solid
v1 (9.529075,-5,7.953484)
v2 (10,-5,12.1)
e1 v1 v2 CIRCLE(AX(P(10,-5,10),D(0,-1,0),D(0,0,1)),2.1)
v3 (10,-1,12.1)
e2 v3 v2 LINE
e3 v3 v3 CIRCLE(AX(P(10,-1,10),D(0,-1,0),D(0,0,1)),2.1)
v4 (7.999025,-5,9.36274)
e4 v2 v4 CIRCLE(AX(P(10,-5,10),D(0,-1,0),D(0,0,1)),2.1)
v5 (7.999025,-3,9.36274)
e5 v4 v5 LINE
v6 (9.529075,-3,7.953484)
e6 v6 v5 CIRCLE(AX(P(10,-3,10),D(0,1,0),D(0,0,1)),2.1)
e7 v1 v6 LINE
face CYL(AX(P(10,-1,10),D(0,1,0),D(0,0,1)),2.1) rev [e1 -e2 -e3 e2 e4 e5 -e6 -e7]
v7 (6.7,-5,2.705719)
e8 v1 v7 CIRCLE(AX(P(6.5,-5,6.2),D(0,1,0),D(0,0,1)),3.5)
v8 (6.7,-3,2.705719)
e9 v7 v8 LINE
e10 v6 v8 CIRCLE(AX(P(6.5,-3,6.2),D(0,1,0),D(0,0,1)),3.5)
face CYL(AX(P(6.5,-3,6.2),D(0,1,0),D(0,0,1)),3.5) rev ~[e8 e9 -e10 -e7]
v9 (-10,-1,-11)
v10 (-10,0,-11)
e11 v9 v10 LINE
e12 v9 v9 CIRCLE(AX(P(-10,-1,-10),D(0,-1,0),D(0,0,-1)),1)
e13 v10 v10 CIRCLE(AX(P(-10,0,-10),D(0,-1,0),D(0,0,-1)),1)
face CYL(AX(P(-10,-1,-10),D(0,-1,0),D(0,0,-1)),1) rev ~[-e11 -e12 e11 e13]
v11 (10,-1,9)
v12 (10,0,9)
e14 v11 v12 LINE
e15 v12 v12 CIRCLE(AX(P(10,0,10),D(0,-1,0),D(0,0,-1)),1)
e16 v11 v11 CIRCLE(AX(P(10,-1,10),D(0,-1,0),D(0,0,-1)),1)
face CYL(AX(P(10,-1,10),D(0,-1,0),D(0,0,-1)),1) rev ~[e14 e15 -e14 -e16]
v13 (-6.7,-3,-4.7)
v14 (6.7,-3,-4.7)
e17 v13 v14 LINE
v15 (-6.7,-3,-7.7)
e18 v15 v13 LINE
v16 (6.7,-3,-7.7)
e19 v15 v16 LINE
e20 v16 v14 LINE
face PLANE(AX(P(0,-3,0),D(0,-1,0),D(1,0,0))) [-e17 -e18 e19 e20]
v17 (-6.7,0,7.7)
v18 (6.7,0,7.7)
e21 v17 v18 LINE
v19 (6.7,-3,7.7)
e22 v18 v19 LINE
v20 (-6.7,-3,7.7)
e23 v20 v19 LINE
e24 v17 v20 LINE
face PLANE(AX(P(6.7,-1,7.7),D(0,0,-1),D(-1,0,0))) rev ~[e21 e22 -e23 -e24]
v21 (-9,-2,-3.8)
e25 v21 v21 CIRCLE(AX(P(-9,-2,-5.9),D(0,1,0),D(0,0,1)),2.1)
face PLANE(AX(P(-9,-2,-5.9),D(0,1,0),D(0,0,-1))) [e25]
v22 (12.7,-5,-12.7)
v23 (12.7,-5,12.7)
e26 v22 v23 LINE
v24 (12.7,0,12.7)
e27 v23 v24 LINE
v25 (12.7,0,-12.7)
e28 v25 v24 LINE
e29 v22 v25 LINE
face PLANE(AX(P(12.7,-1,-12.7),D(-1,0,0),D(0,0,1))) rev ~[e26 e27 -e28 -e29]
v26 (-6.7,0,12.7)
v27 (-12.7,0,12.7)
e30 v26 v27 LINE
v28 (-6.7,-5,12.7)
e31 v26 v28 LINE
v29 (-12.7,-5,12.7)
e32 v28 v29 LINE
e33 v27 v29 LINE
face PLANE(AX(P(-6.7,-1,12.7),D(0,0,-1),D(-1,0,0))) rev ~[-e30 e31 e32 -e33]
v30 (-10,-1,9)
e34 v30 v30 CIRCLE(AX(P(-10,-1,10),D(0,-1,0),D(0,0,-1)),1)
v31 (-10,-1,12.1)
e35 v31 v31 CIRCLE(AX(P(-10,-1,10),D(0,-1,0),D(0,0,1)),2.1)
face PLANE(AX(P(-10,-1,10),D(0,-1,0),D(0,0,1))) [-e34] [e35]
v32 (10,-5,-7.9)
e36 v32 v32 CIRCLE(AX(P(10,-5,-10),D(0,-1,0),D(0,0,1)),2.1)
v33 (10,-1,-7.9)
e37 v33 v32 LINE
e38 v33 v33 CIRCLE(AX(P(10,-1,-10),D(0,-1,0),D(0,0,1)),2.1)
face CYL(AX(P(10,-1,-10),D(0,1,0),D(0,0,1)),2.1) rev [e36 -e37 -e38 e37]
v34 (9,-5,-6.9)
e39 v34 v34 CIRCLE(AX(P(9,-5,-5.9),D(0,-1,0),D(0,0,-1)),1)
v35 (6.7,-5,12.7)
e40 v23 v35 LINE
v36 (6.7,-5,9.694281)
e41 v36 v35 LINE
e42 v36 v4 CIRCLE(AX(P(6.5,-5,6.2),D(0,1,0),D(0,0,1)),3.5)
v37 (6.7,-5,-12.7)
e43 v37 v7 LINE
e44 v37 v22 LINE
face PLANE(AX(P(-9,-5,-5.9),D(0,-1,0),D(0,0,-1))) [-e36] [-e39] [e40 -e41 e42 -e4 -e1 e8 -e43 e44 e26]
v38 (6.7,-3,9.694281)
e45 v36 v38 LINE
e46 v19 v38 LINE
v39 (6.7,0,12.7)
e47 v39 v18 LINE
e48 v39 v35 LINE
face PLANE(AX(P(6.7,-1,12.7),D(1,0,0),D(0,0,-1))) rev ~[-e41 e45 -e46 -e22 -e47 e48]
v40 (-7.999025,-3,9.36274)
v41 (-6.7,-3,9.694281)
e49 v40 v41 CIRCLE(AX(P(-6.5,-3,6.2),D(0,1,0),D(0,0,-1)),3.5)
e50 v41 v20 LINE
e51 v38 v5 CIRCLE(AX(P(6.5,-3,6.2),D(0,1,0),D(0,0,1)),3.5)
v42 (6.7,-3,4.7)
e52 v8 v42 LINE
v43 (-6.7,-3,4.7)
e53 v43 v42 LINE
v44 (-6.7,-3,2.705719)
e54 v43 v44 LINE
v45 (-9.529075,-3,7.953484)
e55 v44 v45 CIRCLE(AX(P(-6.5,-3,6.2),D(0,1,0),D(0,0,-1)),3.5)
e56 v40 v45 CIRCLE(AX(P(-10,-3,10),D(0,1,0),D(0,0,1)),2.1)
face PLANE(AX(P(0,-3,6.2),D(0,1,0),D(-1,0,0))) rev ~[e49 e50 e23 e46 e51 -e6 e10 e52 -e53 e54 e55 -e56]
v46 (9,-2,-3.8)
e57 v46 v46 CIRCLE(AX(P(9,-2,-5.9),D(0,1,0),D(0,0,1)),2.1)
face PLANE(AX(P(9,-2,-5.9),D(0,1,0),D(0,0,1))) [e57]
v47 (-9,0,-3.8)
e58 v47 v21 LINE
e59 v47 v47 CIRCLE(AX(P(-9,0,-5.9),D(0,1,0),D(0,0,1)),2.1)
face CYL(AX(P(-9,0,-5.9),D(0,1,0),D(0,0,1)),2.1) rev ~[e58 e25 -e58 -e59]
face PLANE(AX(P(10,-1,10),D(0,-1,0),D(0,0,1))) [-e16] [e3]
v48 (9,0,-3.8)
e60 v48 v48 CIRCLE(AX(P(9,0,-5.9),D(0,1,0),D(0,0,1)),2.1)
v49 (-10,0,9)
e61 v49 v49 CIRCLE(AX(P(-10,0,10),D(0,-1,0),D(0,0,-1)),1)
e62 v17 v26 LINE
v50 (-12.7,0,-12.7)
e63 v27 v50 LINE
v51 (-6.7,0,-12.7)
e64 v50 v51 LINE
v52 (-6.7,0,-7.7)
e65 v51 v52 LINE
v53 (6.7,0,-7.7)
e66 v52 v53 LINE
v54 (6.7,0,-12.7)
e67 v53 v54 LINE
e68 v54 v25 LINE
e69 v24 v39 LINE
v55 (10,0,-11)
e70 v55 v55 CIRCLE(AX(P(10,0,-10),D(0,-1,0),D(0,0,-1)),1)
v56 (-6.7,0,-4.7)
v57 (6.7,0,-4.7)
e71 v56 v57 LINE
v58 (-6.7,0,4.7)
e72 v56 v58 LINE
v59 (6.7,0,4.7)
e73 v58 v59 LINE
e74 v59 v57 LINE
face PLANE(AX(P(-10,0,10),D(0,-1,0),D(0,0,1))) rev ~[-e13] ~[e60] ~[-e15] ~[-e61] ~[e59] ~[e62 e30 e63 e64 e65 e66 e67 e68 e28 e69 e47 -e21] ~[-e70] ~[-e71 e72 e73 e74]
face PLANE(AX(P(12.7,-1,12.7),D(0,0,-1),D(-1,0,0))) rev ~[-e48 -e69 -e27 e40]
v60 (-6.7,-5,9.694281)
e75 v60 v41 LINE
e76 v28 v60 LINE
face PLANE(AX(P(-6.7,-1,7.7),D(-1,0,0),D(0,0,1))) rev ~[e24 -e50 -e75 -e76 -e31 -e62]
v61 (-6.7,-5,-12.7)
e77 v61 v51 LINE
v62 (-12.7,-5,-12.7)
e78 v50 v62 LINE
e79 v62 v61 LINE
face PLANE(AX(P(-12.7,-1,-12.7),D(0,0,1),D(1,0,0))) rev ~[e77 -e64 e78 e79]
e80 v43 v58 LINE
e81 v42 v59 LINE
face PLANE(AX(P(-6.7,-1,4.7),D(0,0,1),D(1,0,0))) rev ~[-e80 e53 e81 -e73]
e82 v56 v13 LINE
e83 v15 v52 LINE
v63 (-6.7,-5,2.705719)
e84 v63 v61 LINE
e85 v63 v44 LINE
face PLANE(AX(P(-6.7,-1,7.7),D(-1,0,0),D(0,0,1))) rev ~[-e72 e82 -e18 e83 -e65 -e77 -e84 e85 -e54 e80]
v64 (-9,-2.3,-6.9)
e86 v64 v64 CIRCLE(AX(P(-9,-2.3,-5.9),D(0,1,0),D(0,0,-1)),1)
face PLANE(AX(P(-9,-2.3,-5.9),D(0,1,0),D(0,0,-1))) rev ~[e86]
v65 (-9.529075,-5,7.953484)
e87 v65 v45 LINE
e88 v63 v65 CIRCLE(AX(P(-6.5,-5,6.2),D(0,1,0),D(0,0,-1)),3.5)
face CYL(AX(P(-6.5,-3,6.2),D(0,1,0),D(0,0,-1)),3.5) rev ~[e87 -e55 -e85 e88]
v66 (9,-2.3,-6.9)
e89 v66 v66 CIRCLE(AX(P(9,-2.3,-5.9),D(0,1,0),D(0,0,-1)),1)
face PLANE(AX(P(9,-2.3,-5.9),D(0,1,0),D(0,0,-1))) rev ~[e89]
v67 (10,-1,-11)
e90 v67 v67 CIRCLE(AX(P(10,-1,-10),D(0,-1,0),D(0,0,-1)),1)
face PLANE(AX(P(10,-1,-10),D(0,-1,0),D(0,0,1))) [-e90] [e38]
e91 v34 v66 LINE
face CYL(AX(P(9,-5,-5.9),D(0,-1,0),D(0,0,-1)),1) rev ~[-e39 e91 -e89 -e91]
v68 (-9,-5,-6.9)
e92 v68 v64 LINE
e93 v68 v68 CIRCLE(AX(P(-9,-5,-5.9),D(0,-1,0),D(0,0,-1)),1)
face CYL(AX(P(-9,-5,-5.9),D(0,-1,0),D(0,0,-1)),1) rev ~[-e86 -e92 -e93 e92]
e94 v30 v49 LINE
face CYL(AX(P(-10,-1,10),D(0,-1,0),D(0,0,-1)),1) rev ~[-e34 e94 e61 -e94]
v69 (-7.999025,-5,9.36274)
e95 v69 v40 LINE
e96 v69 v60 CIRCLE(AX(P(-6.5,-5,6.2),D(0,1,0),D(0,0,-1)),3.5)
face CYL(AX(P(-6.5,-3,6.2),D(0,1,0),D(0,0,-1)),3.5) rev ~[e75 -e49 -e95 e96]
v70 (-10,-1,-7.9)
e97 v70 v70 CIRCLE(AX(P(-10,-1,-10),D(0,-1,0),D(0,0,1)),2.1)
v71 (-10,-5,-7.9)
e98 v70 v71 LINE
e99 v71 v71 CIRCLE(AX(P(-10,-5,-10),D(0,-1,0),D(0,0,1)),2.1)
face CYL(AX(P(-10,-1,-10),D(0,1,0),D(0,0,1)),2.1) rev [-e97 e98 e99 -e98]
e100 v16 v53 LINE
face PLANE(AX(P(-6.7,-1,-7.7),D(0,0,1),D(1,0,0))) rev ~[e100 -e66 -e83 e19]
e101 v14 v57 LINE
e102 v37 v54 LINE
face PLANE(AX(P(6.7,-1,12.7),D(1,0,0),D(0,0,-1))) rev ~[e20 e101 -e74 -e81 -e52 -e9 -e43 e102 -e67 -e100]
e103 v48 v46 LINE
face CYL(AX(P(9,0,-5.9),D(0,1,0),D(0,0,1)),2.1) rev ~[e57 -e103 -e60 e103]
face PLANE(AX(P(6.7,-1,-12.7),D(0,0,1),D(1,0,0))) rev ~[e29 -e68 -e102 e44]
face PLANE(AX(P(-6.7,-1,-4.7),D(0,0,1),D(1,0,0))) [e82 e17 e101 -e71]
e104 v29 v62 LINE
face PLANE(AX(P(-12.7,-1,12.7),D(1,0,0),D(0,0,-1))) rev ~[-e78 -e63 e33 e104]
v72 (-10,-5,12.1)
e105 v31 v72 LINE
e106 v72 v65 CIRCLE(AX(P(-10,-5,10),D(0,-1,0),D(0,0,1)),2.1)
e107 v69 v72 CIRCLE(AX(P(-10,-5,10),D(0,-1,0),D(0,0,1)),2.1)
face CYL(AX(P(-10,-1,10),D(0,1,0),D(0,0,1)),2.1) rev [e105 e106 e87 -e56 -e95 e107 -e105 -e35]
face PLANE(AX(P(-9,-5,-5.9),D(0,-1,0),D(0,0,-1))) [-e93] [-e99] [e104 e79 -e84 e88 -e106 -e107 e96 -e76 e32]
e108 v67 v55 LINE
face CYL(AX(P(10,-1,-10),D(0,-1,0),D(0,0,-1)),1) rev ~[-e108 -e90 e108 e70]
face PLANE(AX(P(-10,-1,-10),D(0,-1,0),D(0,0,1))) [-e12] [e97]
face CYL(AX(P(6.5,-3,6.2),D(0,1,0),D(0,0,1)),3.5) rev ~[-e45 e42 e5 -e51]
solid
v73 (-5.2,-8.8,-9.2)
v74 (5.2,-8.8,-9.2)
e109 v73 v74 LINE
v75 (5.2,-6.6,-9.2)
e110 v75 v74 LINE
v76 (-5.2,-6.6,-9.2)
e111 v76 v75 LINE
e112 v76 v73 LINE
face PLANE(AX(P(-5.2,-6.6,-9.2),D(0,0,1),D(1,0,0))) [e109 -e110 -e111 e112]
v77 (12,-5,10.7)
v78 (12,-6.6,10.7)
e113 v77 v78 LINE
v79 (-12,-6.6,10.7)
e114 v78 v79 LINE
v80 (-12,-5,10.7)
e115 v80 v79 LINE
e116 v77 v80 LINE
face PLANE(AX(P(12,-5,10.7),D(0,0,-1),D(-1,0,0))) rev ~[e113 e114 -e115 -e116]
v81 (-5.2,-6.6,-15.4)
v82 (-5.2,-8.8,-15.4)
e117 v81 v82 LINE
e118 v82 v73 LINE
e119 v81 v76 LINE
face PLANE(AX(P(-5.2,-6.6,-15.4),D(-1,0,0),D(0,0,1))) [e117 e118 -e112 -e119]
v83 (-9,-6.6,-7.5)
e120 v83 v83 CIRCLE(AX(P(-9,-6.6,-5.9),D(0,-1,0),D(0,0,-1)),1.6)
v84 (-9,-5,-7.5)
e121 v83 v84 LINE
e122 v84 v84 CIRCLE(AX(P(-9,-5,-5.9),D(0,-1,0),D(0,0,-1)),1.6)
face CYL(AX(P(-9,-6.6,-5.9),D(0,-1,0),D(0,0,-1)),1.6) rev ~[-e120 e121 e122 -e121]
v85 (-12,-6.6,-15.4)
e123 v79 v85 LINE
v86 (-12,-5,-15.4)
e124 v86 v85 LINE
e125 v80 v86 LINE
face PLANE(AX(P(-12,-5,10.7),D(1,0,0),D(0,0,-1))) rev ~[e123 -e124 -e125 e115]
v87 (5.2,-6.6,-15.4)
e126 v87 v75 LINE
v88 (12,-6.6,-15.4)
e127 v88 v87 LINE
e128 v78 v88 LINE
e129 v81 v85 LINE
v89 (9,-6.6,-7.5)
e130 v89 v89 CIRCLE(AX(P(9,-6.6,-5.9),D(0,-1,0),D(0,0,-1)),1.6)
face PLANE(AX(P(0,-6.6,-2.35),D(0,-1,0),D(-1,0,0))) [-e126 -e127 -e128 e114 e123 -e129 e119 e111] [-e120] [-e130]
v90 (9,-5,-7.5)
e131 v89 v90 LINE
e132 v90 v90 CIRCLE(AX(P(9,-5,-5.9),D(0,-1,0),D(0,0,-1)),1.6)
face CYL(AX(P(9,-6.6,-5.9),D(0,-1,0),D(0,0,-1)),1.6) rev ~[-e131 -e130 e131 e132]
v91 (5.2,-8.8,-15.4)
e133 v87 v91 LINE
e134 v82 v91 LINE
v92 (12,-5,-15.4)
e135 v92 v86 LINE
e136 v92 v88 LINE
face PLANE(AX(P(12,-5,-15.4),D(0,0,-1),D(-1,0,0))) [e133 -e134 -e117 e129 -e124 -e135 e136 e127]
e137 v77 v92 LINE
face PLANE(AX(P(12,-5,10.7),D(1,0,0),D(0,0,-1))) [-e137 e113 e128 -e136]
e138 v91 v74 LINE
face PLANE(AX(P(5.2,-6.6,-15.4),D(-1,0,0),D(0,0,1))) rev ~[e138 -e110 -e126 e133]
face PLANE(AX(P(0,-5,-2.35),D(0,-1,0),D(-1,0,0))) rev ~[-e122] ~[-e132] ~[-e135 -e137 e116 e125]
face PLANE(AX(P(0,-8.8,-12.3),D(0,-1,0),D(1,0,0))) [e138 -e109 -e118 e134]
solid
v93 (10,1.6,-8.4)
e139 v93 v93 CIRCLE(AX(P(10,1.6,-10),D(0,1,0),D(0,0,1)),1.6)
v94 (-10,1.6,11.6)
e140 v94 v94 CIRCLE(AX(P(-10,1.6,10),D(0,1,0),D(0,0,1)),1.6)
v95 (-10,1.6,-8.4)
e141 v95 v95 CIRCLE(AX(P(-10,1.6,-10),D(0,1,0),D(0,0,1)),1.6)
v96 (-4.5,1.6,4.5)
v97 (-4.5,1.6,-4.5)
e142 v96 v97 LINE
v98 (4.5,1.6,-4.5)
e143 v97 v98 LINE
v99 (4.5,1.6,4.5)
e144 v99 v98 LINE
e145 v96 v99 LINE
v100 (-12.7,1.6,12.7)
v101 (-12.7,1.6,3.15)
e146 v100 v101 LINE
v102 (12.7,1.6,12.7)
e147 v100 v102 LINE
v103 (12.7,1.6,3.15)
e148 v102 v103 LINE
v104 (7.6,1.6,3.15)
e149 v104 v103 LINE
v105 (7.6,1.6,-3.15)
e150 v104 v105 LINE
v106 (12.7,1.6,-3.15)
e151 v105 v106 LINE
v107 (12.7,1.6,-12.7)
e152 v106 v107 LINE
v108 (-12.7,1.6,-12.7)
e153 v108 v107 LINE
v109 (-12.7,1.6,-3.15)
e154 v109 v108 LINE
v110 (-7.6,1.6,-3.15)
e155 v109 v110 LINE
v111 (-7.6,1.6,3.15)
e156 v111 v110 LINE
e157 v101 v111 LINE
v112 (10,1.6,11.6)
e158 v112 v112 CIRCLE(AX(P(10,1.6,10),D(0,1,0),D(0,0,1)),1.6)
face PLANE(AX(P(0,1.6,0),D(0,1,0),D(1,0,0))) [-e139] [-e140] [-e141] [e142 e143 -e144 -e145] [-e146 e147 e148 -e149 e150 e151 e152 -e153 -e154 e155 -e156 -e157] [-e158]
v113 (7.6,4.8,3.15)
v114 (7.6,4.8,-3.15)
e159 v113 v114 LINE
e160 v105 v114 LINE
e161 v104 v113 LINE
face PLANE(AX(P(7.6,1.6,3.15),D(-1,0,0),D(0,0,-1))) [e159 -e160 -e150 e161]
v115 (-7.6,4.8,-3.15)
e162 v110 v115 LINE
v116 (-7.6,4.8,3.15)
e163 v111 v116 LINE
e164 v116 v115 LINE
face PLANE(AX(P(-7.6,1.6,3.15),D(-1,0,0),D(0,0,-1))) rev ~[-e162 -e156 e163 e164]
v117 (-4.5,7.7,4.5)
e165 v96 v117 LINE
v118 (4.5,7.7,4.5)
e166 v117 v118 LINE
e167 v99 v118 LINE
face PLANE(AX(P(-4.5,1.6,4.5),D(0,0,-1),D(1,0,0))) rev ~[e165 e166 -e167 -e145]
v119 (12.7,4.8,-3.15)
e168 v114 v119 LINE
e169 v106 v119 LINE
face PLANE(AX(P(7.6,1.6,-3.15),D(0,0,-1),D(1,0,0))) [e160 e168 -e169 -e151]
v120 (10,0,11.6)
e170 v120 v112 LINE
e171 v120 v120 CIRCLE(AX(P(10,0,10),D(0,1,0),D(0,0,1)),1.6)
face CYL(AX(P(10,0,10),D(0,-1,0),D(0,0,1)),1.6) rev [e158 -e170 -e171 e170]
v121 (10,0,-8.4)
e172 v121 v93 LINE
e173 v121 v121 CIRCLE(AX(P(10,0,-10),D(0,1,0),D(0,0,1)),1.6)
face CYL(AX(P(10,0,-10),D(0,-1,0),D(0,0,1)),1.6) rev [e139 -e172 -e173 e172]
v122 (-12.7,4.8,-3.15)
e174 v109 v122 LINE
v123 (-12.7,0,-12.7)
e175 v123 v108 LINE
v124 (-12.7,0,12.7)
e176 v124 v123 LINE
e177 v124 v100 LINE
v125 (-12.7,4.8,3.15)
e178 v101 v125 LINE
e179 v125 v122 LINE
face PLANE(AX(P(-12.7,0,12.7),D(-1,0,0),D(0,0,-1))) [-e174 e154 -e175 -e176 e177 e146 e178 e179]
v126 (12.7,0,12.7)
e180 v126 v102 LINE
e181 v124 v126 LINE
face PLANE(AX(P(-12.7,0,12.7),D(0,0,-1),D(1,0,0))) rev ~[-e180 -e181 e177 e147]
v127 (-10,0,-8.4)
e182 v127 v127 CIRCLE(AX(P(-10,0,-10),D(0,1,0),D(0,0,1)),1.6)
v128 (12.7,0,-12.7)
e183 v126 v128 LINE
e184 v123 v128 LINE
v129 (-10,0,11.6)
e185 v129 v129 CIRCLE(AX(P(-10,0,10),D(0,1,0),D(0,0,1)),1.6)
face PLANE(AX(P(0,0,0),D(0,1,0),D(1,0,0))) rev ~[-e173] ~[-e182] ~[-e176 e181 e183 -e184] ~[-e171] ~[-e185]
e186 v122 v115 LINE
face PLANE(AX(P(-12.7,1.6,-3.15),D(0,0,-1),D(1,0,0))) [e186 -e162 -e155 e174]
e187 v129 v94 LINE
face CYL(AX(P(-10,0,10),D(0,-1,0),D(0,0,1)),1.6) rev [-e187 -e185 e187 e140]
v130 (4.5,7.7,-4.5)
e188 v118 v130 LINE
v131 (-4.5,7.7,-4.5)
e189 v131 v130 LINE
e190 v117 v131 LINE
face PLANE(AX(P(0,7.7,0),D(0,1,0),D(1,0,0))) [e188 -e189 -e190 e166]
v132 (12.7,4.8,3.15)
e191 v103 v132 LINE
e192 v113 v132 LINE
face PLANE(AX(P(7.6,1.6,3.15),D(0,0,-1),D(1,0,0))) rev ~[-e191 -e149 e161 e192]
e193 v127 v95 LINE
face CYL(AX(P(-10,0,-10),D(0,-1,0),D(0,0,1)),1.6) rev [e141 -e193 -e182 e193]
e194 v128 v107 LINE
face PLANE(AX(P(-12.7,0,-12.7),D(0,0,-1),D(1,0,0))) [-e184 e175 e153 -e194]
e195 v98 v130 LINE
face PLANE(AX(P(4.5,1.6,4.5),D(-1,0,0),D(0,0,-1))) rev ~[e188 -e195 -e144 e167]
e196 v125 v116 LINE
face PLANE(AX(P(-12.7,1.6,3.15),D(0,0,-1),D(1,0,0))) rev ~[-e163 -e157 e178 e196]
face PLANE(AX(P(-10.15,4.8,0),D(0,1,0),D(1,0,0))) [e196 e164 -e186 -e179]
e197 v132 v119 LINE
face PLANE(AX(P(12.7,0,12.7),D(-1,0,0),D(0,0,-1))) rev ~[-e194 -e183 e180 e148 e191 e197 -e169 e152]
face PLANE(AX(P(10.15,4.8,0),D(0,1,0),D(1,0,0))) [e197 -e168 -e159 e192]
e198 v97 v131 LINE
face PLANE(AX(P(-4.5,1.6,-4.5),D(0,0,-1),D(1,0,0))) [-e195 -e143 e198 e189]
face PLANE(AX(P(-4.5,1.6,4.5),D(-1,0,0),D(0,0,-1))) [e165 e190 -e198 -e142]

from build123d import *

# Parameters (mm, degrees)
SKETCH1_W            = 25.4
SKETCH1_H            = 25.4
SKETCH1_R            = 1.6
BOSS_EXTRUDE1_DEPTH  = 1.6
SKETCH2_W            = 9
SKETCH2_H            = 9
BOSS_EXTRUDE2_DEPTH  = 6.1
SKETCH3_W            = 5.1
SKETCH3_H            = 6.3
BOSS_EXTRUDE3_DEPTH  = 3.2
SKETCH4_W            = 24
SKETCH4_H            = 26.1
BOSS_EXTRUDE4_DEPTH  = 1.6
SKETCH5_R            = 1.6
CUT_EXTRUDE1_DEPTH   = 1.6
SKETCH6_W            = 10.4
SKETCH6_H            = 6.2
BOSS_EXTRUDE5_DEPTH  = 2.2
SKETCH7_R            = 1.6
SKETCH7_W            = 13.4
SKETCH7_H            = 3
BOSS_EXTRUDE6_DEPTH  = 1
SKETCH8_R            = 1.6
SKETCH8_R_2          = 2.1
SKETCH8_W            = 13.4
SKETCH8_H            = 9.4
BOSS_EXTRUDE7_DEPTH  = 4
SKETCH9_R            = 1.6
SKETCH9_R_2          = 1
BOSS_EXTRUDE8_DEPTH  = 1
SKETCH10_R           = 1.6
SKETCH10_R_2         = 1
BOSS_EXTRUDE9_DEPTH  = 4
SKETCH11_R           = 2.1
SKETCH11_R_2         = 1
CUT_EXTRUDE2_DEPTH   = 2
SKETCH12_R           = 1
BOSS_EXTRUDE10_DEPTH = 0.3
SKETCH13_W           = 13.4
SKETCH13_H           = 15.4
CUT_EXTRUDE3_DEPTH   = 2
CUT_EXTRUDE4_DEPTH   = 11


with BuildPart() as part:
    # Sketch1 → Boss-Extrude1 (new body)
    with BuildSketch(Plane(origin=(0, 0, 0), x_dir=(1, 0, 0), z_dir=(0, 1, 0))):
        Rectangle(SKETCH1_W, SKETCH1_H)
        with Locations(Location((-10, 10, 0), (0, 0, 270))):
            Circle(SKETCH1_R, mode=Mode.SUBTRACT)
        with Locations(Location((10, 10, 0), (0, 0, 270))):
            Circle(SKETCH1_R, mode=Mode.SUBTRACT)
        with Locations(Location((10, -10, 0), (0, 0, 270))):
            Circle(SKETCH1_R, mode=Mode.SUBTRACT)
        with Locations(Location((-10, -10, 0), (0, 0, 270))):
            Circle(SKETCH1_R, mode=Mode.SUBTRACT)
    extrude(amount=BOSS_EXTRUDE1_DEPTH)

    # Sketch2 → Boss-Extrude2 (add)
    with BuildSketch(Plane(origin=(0, 1.6, 0), x_dir=(1, 0, 0), z_dir=(0, 1, 0))):
        Rectangle(SKETCH2_W, SKETCH2_H)
    extrude(amount=BOSS_EXTRUDE2_DEPTH)

    # Sketch3 → Boss-Extrude3 (add)
    with BuildSketch(Plane(origin=(0, 1.6, 0), x_dir=(1, 0, 0), z_dir=(0, 1, 0))):
        with Locations((-10.15, 0)):
            Rectangle(SKETCH3_W, SKETCH3_H)
        with Locations((10.15, 0)):
            Rectangle(SKETCH3_W, SKETCH3_H)
    extrude(amount=BOSS_EXTRUDE3_DEPTH)


with BuildPart() as body_2:
    # Sketch4 → Boss-Extrude4 (new body)
    with BuildSketch(Plane(origin=(0, -5, 0), x_dir=(-1, 0, 0), z_dir=(0, -1, 0))):
        with Locations((0, 2.35)):
            Rectangle(SKETCH4_W, SKETCH4_H)
    extrude(amount=BOSS_EXTRUDE4_DEPTH)

    # Sketch5 → Cut-Extrude1 (cut)
    with BuildSketch(Plane.XZ.offset(6.6)):
        with Locations(Location((-9, -5.9, 0), (0, 0, 270))):
            Circle(SKETCH5_R)
        with Locations(Location((9, -5.9, 0), (0, 0, 270))):
            Circle(SKETCH5_R)
    extrude(amount=-CUT_EXTRUDE1_DEPTH, mode=Mode.SUBTRACT)

    # Sketch6 → Boss-Extrude5 (add)
    with BuildSketch(Plane.XZ.offset(6.6)):
        with Locations((0, -12.3)):
            Rectangle(SKETCH6_W, SKETCH6_H)
    extrude(amount=BOSS_EXTRUDE5_DEPTH)


with BuildPart() as body_3:
    # Sketch7 → Boss-Extrude6 (new body)
    # profile 1 of 4: a face of its own
    with BuildSketch(Plane.XZ):
        Polygon((12.7, 12.7), (6.7, 12.7), (6.7, 7.7), (6.7, 4.7), (6.7, -4.7), (6.7, -7.7), (6.7, -12.7), (12.7, -12.7), align=None)
        with Locations(Location((10, -10, 0), (0, 0, 270))):
            Circle(SKETCH7_R, mode=Mode.SUBTRACT)
        with Locations(Location((10, 10, 0), (0, 0, 270))):
            Circle(SKETCH7_R, mode=Mode.SUBTRACT)
    # profile 2 of 4: a face of its own
    with BuildSketch(Plane.XZ):
        with Locations((0, 6.2)):
            Rectangle(SKETCH7_W, SKETCH7_H)
    # profile 3 of 4: a face of its own
    with BuildSketch(Plane.XZ):
        with Locations((0, -6.2)):
            Rectangle(SKETCH7_W, SKETCH7_H)
    # profile 4 of 4: a face of its own
    with BuildSketch(Plane.XZ):
        Polygon((-6.7, 12.7), (-12.7, 12.7), (-12.7, -12.7), (-6.7, -12.7), (-6.7, -7.7), (-6.7, -4.7), (-6.7, 4.7), (-6.7, 7.7), align=None)
        with Locations(Location((-10, -10, 0), (0, 0, 270))):
            Circle(SKETCH7_R, mode=Mode.SUBTRACT)
        with Locations(Location((-10, 10, 0), (0, 0, 270))):
            Circle(SKETCH7_R, mode=Mode.SUBTRACT)
    extrude(amount=BOSS_EXTRUDE6_DEPTH)

    # Sketch8 → Boss-Extrude7 (add)
    with BuildSketch(Plane.XZ.offset(1)):
        Polygon((12.7, 12.7), (6.7, 12.7), (6.7, 7.7), (-6.7, 7.7), (-6.7, 12.7), (-12.7, 12.7), (-12.7, -12.7), (-6.7, -12.7), (-6.7, -7.7), (6.7, -7.7), (6.7, -12.7), (12.7, -12.7), align=None)
        with Locations(Location((9, -5.9, 0), (0, 0, 90))):
            Circle(SKETCH8_R, mode=Mode.SUBTRACT)
        with Locations(Location((-9, -5.9, 0), (0, 0, 90))):
            Circle(SKETCH8_R, mode=Mode.SUBTRACT)
        with Locations(Location((-10, 10, 0), (0, 0, 90))):
            Circle(SKETCH8_R_2, mode=Mode.SUBTRACT)
        with Locations(Location((10, 10, 0), (0, 0, 90))):
            Circle(SKETCH8_R_2, mode=Mode.SUBTRACT)
        with Locations(Location((-10, -10, 0), (0, 0, 90))):
            Circle(SKETCH8_R_2, mode=Mode.SUBTRACT)
        with Locations(Location((10, -10, 0), (0, 0, 90))):
            Circle(SKETCH8_R_2, mode=Mode.SUBTRACT)
        Rectangle(SKETCH8_W, SKETCH8_H, mode=Mode.SUBTRACT)
    extrude(amount=BOSS_EXTRUDE7_DEPTH)

    # Sketch9 → Boss-Extrude8 (add)
    # profile 1 of 4: a face of its own
    with BuildSketch(Plane.XZ.offset(1)):
        with Locations(Location((-10, 10, 0), (0, 0, 90))):
            Circle(SKETCH9_R)
        with Locations(Location((-10, 10, 0), (0, 0, 270))):
            Circle(SKETCH9_R_2, mode=Mode.SUBTRACT)
    # profile 2 of 4: a face of its own
    with BuildSketch(Plane.XZ.offset(1)):
        with Locations(Location((10, 10, 0), (0, 0, 90))):
            Circle(SKETCH9_R)
        with Locations(Location((10, 10, 0), (0, 0, 270))):
            Circle(SKETCH9_R_2, mode=Mode.SUBTRACT)
    # profile 3 of 4: a face of its own
    with BuildSketch(Plane.XZ.offset(1)):
        with Locations(Location((-10, -10, 0), (0, 0, 90))):
            Circle(SKETCH9_R)
        with Locations(Location((-10, -10, 0), (0, 0, 270))):
            Circle(SKETCH9_R_2, mode=Mode.SUBTRACT)
    # profile 4 of 4: a face of its own
    with BuildSketch(Plane.XZ.offset(1)):
        with Locations(Location((10, -10, 0), (0, 0, 90))):
            Circle(SKETCH9_R)
        with Locations(Location((10, -10, 0), (0, 0, 270))):
            Circle(SKETCH9_R_2, mode=Mode.SUBTRACT)
    extrude(amount=-BOSS_EXTRUDE8_DEPTH)

    # Sketch10 → Boss-Extrude9 (add)
    # profile 1 of 2: a face of its own
    with BuildSketch(Plane.XZ.offset(5)):
        with Locations(Location((-9, -5.9, 0), (0, 0, 270))):
            Circle(SKETCH10_R)
        with Locations(Location((-9, -5.9, 0), (0, 0, 270))):
            Circle(SKETCH10_R_2, mode=Mode.SUBTRACT)
    # profile 2 of 2: a face of its own
    with BuildSketch(Plane.XZ.offset(5)):
        with Locations(Location((9, -5.9, 0), (0, 0, 270))):
            Circle(SKETCH10_R)
        with Locations(Location((9, -5.9, 0), (0, 0, 270))):
            Circle(SKETCH10_R_2, mode=Mode.SUBTRACT)
    extrude(amount=-BOSS_EXTRUDE9_DEPTH)

    # Sketch11 → Cut-Extrude2 (cut)
    # profile 1 of 4: a face of its own
    with BuildSketch(Plane(origin=(0, 0, 0), x_dir=(1, 0, 0), z_dir=(0, 1, 0))):
        with Locations(Location((-9, 5.9, 0), (0, 0, 270))):
            Circle(SKETCH11_R)
        with Locations(Location((-9, 5.9, 0), (0, 0, 90))):
            Circle(SKETCH11_R_2, mode=Mode.SUBTRACT)
    # profile 2 of 4: a face of its own
    with BuildSketch(Plane(origin=(0, 0, 0), x_dir=(1, 0, 0), z_dir=(0, 1, 0))):
        with Locations(Location((-9, 5.9, 0), (0, 0, 90))):
            Circle(SKETCH11_R_2)
    # profile 3 of 4: a face of its own
    with BuildSketch(Plane(origin=(0, 0, 0), x_dir=(1, 0, 0), z_dir=(0, 1, 0))):
        with Locations(Location((9, 5.9, 0), (0, 0, 270))):
            Circle(SKETCH11_R)
        with Locations(Location((9, 5.9, 0), (0, 0, 90))):
            Circle(SKETCH11_R_2, mode=Mode.SUBTRACT)
    # profile 4 of 4: a face of its own
    with BuildSketch(Plane(origin=(0, 0, 0), x_dir=(1, 0, 0), z_dir=(0, 1, 0))):
        with Locations(Location((9, 5.9, 0), (0, 0, 90))):
            Circle(SKETCH11_R_2)
    extrude(amount=-CUT_EXTRUDE2_DEPTH, mode=Mode.SUBTRACT)

    # Sketch12 → Boss-Extrude10 (add)
    with BuildSketch(Plane(origin=(0, -2, 0), x_dir=(1, 0, 0), z_dir=(0, 1, 0))):
        with Locations(Location((-9, 5.9, 0), (0, 0, 90))):
            Circle(SKETCH12_R)
        with Locations(Location((9, 5.9, 0), (0, 0, 90))):
            Circle(SKETCH12_R)
    extrude(amount=-BOSS_EXTRUDE10_DEPTH)

    # Sketch13 → Cut-Extrude3 (cut)
    with BuildSketch(Plane.XZ.offset(5)):
        Rectangle(SKETCH13_W, SKETCH13_H)
    extrude(amount=-CUT_EXTRUDE3_DEPTH, mode=Mode.SUBTRACT)

    # Sketch14 → Cut-Extrude4 (cut)
    with BuildSketch(Plane.XZ.offset(3)):
        with BuildLine():
            Line((-6.5, 9.7), (6.5, 9.7))
            ThreePointArc((6.5, 9.7), (10, 6.2), (6.5, 2.7))
            Line((6.5, 2.7), (-6.5, 2.7))
            ThreePointArc((-6.5, 2.7), (-10, 6.2), (-6.5, 9.7))
        make_face()
    extrude(amount=CUT_EXTRUDE4_DEPTH, mode=Mode.SUBTRACT)


solid = Compound([part.part, body_2.part, body_3.part])
